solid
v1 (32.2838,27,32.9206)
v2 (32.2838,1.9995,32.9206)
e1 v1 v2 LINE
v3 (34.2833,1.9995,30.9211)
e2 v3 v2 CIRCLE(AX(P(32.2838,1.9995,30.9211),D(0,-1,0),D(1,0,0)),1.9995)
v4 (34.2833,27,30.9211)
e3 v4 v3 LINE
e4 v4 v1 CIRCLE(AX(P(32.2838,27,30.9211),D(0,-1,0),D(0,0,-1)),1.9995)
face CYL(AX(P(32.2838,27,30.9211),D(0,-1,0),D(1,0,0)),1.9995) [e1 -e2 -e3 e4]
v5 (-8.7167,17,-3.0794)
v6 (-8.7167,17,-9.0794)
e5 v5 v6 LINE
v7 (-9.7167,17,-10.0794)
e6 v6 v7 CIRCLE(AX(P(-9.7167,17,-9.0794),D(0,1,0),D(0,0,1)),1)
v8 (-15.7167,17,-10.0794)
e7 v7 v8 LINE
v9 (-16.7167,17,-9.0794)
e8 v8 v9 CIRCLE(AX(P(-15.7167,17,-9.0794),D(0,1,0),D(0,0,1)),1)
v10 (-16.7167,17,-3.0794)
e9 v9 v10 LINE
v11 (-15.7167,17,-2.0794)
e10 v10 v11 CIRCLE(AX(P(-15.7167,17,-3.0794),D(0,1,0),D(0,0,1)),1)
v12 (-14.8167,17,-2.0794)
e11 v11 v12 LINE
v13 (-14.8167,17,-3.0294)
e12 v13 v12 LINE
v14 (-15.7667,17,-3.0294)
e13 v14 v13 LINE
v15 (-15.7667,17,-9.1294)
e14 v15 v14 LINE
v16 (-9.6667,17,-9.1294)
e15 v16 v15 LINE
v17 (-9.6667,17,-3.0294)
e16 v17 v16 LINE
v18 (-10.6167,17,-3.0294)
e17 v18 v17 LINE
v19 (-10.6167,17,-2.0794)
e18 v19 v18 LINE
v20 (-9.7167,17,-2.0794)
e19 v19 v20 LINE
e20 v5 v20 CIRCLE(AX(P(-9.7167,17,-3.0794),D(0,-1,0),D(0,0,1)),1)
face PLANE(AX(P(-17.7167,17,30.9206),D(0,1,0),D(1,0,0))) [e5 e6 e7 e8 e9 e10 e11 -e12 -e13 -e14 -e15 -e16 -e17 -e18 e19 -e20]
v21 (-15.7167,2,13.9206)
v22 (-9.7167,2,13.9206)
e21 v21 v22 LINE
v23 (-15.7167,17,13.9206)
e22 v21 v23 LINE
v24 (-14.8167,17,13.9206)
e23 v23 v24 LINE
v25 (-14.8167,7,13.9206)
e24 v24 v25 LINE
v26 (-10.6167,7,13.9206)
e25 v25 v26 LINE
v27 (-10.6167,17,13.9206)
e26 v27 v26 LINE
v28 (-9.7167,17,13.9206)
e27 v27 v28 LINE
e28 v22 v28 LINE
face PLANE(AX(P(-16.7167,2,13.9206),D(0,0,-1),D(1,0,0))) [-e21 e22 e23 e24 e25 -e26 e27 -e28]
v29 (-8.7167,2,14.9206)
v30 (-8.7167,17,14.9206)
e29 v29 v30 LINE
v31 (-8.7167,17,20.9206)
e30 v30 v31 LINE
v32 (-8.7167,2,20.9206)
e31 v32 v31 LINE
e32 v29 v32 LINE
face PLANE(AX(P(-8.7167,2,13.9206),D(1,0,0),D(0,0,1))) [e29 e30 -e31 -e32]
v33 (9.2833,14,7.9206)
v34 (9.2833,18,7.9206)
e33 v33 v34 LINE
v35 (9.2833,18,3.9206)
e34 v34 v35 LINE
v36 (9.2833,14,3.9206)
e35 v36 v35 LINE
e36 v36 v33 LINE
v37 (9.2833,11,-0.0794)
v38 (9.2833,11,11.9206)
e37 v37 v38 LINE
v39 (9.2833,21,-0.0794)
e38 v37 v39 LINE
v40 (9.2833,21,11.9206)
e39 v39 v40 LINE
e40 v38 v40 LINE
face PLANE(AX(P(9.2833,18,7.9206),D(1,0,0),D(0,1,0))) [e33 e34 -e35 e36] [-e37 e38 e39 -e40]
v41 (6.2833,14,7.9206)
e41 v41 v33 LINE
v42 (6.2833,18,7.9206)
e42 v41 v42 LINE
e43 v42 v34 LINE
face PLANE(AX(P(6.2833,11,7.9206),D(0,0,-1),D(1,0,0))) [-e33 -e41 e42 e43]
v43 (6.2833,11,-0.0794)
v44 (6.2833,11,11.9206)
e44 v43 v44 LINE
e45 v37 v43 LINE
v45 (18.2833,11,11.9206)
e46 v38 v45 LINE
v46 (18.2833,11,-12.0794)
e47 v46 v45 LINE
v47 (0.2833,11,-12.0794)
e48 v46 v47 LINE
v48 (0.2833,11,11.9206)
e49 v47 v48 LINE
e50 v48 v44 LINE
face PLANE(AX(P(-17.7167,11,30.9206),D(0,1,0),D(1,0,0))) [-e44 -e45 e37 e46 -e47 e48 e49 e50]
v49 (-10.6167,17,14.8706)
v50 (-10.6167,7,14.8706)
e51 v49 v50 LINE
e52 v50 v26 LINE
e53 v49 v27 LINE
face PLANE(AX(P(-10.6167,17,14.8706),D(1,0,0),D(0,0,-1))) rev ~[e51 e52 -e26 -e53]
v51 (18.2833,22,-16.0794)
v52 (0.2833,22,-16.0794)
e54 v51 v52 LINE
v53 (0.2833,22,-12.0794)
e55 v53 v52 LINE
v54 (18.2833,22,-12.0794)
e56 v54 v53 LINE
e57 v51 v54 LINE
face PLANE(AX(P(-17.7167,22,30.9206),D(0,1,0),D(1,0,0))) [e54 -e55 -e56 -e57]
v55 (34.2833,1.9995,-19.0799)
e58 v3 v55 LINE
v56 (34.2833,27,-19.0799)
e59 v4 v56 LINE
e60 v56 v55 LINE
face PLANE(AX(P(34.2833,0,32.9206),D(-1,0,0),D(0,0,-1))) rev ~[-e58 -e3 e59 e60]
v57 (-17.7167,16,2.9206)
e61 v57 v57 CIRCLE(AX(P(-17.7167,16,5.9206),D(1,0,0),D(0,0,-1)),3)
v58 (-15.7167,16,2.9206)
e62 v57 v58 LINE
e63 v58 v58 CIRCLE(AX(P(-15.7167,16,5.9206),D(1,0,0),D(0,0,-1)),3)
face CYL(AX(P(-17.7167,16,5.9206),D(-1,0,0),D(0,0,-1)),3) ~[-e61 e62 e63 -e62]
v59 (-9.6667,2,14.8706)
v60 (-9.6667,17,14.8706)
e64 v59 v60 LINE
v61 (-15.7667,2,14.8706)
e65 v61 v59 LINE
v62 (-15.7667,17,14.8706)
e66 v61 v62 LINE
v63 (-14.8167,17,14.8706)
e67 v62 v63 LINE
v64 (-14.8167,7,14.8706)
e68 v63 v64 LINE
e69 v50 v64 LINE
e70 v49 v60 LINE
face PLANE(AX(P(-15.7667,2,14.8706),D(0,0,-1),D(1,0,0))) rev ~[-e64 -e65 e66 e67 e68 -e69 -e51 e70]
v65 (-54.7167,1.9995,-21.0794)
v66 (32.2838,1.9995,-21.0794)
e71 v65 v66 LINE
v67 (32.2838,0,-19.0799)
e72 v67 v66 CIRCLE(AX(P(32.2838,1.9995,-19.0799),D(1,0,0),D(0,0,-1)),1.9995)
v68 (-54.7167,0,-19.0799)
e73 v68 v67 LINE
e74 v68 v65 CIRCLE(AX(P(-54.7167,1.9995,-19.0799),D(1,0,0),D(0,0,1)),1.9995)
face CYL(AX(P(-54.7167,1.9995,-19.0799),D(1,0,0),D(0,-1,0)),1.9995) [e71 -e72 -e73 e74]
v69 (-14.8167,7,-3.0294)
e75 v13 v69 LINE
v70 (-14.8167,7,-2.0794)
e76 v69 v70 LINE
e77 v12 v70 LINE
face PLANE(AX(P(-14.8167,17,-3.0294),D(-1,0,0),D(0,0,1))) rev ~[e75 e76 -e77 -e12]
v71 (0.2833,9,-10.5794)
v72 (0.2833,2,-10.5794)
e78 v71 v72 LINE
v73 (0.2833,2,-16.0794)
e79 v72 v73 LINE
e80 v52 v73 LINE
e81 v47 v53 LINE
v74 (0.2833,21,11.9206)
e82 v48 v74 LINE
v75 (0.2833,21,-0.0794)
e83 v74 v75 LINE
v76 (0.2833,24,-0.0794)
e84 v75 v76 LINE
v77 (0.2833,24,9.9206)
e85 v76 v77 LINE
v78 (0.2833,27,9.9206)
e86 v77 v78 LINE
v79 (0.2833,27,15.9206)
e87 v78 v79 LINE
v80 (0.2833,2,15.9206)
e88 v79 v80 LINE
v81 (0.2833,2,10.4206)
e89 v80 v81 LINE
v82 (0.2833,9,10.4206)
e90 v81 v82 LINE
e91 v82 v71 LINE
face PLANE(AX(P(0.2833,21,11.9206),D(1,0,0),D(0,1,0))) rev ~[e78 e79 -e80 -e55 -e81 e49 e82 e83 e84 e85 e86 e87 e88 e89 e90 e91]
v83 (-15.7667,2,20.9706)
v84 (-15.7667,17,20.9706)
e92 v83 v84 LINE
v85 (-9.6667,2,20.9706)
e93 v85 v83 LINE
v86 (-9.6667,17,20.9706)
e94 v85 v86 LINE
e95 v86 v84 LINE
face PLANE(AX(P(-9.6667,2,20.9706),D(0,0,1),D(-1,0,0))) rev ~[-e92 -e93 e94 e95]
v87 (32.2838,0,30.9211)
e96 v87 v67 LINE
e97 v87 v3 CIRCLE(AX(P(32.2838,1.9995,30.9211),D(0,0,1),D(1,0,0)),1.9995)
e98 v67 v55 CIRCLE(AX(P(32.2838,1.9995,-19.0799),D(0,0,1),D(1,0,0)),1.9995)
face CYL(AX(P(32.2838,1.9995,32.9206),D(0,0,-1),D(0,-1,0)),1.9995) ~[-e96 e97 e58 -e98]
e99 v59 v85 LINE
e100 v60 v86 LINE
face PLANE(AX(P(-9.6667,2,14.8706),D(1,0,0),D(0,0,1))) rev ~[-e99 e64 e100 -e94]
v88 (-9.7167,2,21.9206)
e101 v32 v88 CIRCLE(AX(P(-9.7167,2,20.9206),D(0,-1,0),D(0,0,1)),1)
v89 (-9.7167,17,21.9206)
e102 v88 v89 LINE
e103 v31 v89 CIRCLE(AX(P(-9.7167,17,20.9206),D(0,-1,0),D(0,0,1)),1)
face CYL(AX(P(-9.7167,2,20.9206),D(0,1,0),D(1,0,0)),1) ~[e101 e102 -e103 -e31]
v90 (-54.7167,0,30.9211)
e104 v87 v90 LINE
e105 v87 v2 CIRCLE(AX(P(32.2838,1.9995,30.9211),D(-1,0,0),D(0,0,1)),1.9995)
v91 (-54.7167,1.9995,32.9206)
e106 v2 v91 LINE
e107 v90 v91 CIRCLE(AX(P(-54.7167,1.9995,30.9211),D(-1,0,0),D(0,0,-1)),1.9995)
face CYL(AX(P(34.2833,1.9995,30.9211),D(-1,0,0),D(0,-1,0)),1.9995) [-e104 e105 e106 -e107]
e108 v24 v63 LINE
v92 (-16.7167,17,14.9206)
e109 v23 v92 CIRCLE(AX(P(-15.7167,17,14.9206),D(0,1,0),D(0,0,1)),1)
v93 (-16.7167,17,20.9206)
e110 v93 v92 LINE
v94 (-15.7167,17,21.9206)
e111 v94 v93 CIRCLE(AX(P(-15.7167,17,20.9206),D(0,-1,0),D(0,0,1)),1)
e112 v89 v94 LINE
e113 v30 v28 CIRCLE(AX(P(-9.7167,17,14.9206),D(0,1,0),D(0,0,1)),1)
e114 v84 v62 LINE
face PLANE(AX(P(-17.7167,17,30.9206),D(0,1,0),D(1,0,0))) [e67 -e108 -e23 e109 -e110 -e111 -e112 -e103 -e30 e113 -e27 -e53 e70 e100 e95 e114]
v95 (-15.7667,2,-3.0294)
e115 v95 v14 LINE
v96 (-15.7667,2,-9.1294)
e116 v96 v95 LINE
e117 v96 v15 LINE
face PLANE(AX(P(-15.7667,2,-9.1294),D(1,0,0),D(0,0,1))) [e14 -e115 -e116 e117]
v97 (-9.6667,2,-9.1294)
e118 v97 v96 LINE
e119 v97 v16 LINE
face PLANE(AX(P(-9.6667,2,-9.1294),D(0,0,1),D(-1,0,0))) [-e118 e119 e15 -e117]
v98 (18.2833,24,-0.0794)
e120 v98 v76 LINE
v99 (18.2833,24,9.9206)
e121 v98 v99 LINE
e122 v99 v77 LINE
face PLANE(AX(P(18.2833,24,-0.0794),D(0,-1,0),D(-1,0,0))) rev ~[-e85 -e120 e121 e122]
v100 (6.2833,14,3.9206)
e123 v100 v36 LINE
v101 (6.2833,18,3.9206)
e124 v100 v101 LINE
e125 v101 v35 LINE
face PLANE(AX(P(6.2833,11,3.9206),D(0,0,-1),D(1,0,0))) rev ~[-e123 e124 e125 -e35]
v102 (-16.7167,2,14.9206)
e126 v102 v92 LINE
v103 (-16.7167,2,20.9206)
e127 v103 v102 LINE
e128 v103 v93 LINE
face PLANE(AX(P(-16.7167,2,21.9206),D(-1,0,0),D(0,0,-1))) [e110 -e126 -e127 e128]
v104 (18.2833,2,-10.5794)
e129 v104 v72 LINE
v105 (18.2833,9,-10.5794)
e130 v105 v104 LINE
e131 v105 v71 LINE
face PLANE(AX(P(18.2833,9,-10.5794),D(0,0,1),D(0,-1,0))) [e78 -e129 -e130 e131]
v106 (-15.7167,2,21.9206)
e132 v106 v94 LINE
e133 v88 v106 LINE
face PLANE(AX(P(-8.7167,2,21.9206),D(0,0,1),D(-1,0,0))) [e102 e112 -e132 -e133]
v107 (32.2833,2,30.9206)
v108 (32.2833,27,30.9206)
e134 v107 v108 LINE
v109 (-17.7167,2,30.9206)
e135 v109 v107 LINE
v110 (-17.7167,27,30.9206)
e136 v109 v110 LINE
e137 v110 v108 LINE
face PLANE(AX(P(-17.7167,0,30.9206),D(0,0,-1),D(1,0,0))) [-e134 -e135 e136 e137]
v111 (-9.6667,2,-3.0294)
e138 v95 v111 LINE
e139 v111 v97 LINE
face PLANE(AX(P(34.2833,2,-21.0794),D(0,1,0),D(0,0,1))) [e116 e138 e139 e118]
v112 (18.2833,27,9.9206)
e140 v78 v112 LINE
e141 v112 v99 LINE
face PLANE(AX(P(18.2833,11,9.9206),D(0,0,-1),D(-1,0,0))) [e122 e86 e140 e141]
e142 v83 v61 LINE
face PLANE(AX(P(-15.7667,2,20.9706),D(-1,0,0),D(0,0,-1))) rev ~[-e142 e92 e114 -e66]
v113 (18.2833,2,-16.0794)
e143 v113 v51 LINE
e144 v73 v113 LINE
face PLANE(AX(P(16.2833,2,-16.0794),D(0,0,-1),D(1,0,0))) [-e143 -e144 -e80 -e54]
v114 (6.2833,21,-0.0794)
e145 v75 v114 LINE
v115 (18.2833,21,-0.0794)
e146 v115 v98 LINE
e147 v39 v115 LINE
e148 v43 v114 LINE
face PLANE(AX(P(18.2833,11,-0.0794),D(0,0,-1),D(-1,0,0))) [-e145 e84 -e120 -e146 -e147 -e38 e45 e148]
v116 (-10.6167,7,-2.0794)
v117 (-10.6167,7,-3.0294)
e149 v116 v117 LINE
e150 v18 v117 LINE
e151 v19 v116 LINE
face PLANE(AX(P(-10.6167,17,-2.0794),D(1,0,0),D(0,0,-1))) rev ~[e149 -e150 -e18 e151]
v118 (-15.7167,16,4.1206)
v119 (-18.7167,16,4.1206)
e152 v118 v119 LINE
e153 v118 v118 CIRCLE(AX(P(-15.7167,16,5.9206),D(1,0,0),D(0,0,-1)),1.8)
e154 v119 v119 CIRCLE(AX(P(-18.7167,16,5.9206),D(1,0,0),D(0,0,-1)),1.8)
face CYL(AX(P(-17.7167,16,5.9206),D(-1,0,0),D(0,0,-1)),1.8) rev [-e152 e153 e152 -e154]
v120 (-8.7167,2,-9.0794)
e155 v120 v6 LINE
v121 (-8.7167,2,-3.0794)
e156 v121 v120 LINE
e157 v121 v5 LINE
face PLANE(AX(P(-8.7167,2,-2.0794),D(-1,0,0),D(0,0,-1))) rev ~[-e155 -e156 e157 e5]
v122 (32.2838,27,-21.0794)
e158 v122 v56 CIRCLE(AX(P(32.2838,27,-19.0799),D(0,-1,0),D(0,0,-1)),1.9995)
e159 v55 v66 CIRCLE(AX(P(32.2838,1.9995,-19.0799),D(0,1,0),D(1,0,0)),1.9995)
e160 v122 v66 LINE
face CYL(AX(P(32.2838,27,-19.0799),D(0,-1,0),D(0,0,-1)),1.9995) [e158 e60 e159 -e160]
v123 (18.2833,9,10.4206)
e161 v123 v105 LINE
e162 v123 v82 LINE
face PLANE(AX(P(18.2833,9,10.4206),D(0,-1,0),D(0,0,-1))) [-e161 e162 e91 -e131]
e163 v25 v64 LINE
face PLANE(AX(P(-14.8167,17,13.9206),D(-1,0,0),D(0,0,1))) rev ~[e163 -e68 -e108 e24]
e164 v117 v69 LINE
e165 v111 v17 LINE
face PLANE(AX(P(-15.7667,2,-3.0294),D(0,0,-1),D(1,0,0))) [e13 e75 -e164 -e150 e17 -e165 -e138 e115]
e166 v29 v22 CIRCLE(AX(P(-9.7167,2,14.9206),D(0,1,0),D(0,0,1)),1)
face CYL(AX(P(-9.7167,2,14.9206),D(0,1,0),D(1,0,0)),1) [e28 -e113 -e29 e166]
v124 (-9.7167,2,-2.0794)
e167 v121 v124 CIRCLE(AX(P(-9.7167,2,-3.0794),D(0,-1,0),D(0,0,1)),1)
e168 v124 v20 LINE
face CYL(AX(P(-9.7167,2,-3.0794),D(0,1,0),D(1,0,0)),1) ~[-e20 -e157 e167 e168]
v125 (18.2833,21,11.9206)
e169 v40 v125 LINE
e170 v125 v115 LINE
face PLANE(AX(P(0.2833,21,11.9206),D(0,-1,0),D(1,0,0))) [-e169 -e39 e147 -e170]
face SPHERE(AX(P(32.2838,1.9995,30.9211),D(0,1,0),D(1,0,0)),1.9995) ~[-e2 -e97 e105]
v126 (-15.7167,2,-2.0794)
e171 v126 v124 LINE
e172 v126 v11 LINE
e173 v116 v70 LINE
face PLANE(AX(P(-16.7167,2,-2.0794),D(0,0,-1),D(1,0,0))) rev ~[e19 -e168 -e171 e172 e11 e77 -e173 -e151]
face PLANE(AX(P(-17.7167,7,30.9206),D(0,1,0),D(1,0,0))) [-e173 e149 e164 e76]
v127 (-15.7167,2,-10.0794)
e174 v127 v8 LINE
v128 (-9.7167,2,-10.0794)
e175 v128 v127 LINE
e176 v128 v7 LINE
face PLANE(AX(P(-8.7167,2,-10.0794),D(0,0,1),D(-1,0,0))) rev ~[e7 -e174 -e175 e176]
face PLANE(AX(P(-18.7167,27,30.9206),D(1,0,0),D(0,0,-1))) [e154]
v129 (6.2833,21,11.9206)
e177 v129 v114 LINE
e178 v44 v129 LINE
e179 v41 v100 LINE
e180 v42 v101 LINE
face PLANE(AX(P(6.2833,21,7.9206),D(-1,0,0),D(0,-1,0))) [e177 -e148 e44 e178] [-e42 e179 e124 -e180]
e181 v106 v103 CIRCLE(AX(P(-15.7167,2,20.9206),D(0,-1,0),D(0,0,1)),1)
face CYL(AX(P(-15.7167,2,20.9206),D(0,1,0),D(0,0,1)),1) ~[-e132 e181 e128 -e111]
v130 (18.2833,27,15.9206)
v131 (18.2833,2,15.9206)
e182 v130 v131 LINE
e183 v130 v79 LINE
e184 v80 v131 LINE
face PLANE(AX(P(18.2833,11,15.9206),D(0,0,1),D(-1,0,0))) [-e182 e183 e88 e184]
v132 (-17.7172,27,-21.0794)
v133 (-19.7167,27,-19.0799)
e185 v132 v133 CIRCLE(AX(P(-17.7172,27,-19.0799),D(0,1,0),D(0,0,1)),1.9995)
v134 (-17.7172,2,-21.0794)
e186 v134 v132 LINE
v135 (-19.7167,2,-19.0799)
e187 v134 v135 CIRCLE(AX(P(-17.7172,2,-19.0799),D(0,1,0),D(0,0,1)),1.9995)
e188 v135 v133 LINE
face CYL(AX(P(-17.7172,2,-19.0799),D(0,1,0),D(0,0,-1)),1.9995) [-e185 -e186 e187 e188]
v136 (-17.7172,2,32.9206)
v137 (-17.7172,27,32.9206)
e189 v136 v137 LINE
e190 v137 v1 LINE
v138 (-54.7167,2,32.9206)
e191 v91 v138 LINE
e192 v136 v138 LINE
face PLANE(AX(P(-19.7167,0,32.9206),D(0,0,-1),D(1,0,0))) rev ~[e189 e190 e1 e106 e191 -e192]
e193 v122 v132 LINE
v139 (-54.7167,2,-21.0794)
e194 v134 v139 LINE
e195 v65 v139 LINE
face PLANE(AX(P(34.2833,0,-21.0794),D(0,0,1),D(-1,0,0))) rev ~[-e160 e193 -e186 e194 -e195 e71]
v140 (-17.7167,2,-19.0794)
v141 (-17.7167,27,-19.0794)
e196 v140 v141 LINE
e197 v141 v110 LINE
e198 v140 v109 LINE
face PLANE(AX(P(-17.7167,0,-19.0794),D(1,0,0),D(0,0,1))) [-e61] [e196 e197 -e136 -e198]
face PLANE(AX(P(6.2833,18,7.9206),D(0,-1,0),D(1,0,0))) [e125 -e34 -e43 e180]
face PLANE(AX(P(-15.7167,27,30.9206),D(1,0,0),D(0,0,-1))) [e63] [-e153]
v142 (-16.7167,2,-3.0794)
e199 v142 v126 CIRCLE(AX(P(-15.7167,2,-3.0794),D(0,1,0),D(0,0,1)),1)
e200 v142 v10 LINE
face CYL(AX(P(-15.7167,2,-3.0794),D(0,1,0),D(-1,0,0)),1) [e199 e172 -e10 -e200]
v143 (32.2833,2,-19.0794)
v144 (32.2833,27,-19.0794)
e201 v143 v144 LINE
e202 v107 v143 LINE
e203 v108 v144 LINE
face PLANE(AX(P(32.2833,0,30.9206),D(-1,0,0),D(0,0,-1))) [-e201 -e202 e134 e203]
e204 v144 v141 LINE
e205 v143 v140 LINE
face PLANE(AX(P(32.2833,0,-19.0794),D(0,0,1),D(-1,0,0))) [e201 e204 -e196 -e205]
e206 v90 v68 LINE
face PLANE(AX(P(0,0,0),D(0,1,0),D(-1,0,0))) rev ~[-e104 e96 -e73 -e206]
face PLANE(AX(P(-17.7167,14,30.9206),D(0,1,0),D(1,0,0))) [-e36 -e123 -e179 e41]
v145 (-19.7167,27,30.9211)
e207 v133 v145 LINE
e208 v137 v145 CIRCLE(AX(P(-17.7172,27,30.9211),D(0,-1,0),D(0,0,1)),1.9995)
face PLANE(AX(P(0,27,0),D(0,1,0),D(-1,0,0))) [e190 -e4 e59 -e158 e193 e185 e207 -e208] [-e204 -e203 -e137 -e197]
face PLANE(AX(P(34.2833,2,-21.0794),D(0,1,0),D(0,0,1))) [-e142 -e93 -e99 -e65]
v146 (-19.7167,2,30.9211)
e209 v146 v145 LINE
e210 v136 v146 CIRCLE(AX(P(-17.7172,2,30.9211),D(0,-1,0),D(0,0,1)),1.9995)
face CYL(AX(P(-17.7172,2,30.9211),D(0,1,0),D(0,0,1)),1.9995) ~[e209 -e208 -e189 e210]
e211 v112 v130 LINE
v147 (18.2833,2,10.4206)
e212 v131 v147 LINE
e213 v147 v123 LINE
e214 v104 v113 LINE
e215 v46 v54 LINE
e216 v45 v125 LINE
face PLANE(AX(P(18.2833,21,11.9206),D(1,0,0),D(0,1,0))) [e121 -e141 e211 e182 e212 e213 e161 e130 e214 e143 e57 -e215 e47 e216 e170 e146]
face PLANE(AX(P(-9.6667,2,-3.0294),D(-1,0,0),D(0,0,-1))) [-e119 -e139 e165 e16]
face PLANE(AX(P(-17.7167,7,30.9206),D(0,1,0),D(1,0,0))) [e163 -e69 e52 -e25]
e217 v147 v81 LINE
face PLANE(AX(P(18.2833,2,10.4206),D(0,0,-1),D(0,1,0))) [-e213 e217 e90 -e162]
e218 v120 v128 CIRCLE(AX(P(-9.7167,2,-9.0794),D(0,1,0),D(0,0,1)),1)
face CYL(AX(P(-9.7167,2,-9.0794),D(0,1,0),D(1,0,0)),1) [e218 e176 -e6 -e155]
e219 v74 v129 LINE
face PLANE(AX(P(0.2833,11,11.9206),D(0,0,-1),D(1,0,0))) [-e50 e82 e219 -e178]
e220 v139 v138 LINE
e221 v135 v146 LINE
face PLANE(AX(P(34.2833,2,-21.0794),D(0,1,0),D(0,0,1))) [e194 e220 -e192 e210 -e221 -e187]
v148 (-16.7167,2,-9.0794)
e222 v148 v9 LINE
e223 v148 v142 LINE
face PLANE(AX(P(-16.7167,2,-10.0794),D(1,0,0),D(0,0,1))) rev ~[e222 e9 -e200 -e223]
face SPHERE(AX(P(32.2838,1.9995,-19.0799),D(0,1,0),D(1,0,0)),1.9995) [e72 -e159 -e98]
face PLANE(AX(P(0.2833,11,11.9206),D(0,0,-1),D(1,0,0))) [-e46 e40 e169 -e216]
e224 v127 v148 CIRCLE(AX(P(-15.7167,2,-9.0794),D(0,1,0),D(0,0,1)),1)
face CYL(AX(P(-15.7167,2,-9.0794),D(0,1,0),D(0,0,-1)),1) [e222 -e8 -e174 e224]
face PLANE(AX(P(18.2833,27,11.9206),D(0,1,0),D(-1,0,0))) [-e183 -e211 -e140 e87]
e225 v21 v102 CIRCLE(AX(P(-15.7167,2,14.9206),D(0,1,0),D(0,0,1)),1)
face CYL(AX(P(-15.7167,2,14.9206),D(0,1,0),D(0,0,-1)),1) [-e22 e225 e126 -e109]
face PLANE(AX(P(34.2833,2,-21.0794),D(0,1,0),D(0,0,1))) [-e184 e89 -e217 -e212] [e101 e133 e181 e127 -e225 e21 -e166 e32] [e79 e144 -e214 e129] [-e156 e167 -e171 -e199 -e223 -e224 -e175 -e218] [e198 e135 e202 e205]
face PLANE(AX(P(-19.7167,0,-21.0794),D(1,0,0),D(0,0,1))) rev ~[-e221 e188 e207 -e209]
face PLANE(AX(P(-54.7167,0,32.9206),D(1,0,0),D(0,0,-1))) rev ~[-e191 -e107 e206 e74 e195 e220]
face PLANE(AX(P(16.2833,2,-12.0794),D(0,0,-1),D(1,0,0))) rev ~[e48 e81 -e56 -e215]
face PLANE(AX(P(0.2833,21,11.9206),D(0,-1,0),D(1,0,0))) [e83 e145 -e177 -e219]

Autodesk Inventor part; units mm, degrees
ref_plane "YZ Plane" through (0, 0, 0) normal (1, 0, 0) x (0, 1, 0)
ref_plane "XZ Plane" through (0, 0, 0) normal (0, 1, 0) x (-1, 0, 0)
ref_plane "XY Plane" through (0, 0, 0) normal (0, 0, 1) x (1, 0, 0)
sketch "Sketch1" plane through (0, 0, 0) normal (0, 1, 0) x (-1, 0, 0)
  line L0 (17.7167, 30.9206) -> (-32.2833, 30.9206)
  line L1 (-32.2833, 30.9206) -> (-32.2833, -19.0794)
  line L2 (-32.2833, -19.0794) -> (17.7167, -19.0794)
  line L3 (17.7167, -19.0794) -> (17.7167, 30.9206)
  line L4 (19.7167, 32.9206) -> (-34.2833, 32.9206)
  line L5 (-34.2833, 32.9206) -> (-34.2833, -21.0794)
  line L6 (-34.2833, -21.0794) -> (19.7167, -21.0794)
  line L7 (19.7167, -21.0794) -> (19.7167, 32.9206)
  line L8 (19.7167, 32.9206) -> (54.7167, 32.9206)
  line L9 (54.7167, 32.9206) -> (54.7167, -21.0794)
  line L10 (54.7167, -21.0794) -> (19.7167, -21.0794)
  line L11 (19.7167, -21.0794) -> (19.7167, 32.9206)
  point P0 (0, 0)
  dimension "d0" = 50
  dimension "d1" = 50
  dimension "d2" = 2
  dimension "d3" = 2
  dimension "d4" = 2
  dimension "d5" = 2
  dimension "d6" = 35
  dimension "d7" = 54
extrude "Extrusion1" add sketch "Sketch1" along normal blind 27 contours L7 L6 L5 L4
sketch "Sketch2" plane through (34.2833, 0, 32.9206) normal (1, 0, 0) x (0, 0, -1)
  line L0 (0, 0) -> (0, 27) projected
  line L1 (54, 0) -> (54, 27) projected
  line L2 (0, 0) -> (54, 0)
  line L3 (54, 0) -> (54, 2)
  line L4 (54, 2) -> (0, 2)
  line L5 (0, 2) -> (0, 0)
  point P0 (32.9206, 0)
  dimension "d10" = 2
extrude "Extrusion2" add sketch "Sketch2" against normal blind 89
fillet "Fillet1" radius 2 7 edges at (34.2833, 13.5, 32.9206) (34.2833, 13.5, -21.0794) (-19.7167, 14.5, -21.0794) (-19.7167, 14.5, 32.9206) (34.2833, 0, 5.9206) (-10.2167, 0, 32.9206) (-10.2167, 0, -21.0794)
sketch "Sketch3" plane through (-17.7167, 2, 30.9206) normal (0, 1, 0) x (1, 0, 0)
  line L0 (9, 9) -> (1, 9)
  line L1 (1, 9) -> (1, 17)
  line L2 (1, 17) -> (9, 17)
  line L3 (9, 17) -> (9, 9)
  line L4 (50, 0) -> (0, 0) projected
  line L5 (0, 0) -> (0, 50) projected
  line L6 (8.05, 9.95) -> (1.95, 9.95)
  line L7 (1.95, 9.95) -> (1.95, 16.05)
  line L8 (1.95, 16.05) -> (8.05, 16.05)
  line L9 (8.05, 16.05) -> (8.05, 9.95)
  line L10 (0, 25) -> (50, 25)
  line L11 (0, 50) -> (50, 50) projected
  line L12 (50, 50) -> (50, 0) projected
  line L13 (9, 41) -> (1, 41)
  line L14 (1, 41) -> (1, 33)
  line L15 (1, 33) -> (9, 33)
  line L16 (9, 33) -> (9, 41)
  line L17 (8.05, 40.05) -> (1.95, 40.05)
  line L18 (1.95, 40.05) -> (1.95, 33.95)
  line L19 (1.95, 33.95) -> (8.05, 33.95)
  line L20 (8.05, 33.95) -> (8.05, 40.05)
  line L21 (36, 25) -> (18, 25)
  line L22 (18, 25) -> (18, 47)
  line L23 (18, 47) -> (36, 47)
  line L24 (36, 47) -> (36, 25)
  line L25 (36, 25) -> (18, 25)
  line L26 (18, 25) -> (18, 15)
  line L27 (18, 15) -> (36, 15)
  line L28 (36, 15) -> (36, 25)
  line L29 (36, 47) -> (18, 47)
  line L30 (18, 47) -> (18, 43)
  line L31 (18, 43) -> (36, 43)
  line L32 (36, 43) -> (36, 47)
  line L33 (36, 15) -> (34, 15)
  line L34 (34, 15) -> (34, 47)
  line L35 (34, 47) -> (36, 47)
  line L36 (36, 47) -> (36, 15)
  line L37 (34, 21) -> (33, 21)
  line L38 (33, 21) -> (33, 22)
  line L39 (33, 22) -> (34, 22)
  line L40 (34, 22) -> (34, 21)
  line L41 (34, 28) -> (33, 28)
  line L42 (33, 28) -> (33, 29)
  line L43 (33, 29) -> (34, 29)
  line L44 (34, 29) -> (34, 28)
  line L45 (34, 39) -> (33, 39)
  line L46 (33, 39) -> (33, 40)
  line L47 (33, 40) -> (34, 40)
  line L48 (34, 40) -> (34, 39)
  point P0 (17.7167, 30.9206)
  dimension "d26" = 9
  dimension "d27" = 8
  dimension "d28" = 1
  dimension "d29" = 6.1
  dimension "d30" = 0.95
  dimension "d31" = 0.95
  dimension "d33" = 25
  dimension "d34" = 25
  dimension "d39" = 16
  dimension "d74" = 22
  dimension "d75" = 18
  dimension "d76" = 18
  dimension "d77" = 10
  dimension "d78" = 18
  dimension "d87" = 4
  dimension "d90" = 2
  dimension "d93" = 6
  dimension "d94" = 1
  dimension "d95" = 1
  dimension "d96" = 3
  dimension "d97" = 3
  dimension "d98" = 1
  dimension "d99" = 1
  dimension "d100" = 10
  dimension "d101" = 1
  dimension "d102" = 1
extrude "Extrusion3" add sketch "Sketch3" along normal blind 15 contours L0 L1 L2 L3
sketch "Sketch4" plane through (-17.7167, 2, 30.9206) normal (0, 1, 0) x (1, 0, 0)
  point P0 (17.7167, 30.9206)
extrude "Extrusion4" add sketch "Sketch3" along normal blind 15 contours L16 L15 L14 L13
fillet "Fillet2" radius 1 8 edges at (-8.7167, 9.5, -2.0794) (-8.7167, 9.5, -10.0794) (-16.7167, 9.5, -2.0794) (-16.7167, 9.5, -10.0794) (-8.7167, 9.5, 13.9206) (-8.7167, 9.5, 21.9206) (-16.7167, 9.5, 21.9206) (-16.7167, 9.5, 13.9206)
sketch "Sketch5" plane through (-17.7167, 27, 30.9206) normal (1, 0, 0) x (0, 0, -1)
  circle A0 centre (25, -11) radius 1.8
  line L0 (50, -25) -> (50, 0) projected
  line L1 (0, -25) -> (50, -25) projected
  point P0 (30.9206, -27)
  dimension "d41" = 3.6
  dimension "d42" = 25
  dimension "d43" = 14
extrude "Extrusion5" cut sketch "Sketch5" against normal blind 1
sketch "Sketch6" plane through (-17.7167, 2, 30.9206) normal (0, 1, 0) x (1, 0, 0)
  line L0 (10.5, 9.0139) -> (13.5, 9.0139)
  line L1 (13.5, 9.0139) -> (13.5, 41.0139)
  line L2 (13.5, 41.0139) -> (10.5, 41.0139)
  line L3 (10.5, 41.0139) -> (10.5, 9.0139)
  line L4 (2, 9) -> (8, 9) projected
  line L5 (8, 41) -> (2, 41) projected
  line L6 (9, 16) -> (9, 10) projected
  point P0 (17.7167, 30.9206)
  dimension "d46" = 3
  dimension "d47" = 32
  dimension "d48" = 1.5
extrude "Extrusion6" [suppressed]
sketch "Sketch7" plane through (-4.2167, 2, 21.9067) normal (1, 0, 0) x (0, 0, -1)
  circle A0 centre (15.9861, 14) radius 1.8
  circle A1 centre (15.9861, 14) radius 1.8 projected
  point P0 (21.9067, -2)
  dimension "d51" = 3.6
extrude "Extrusion7" [suppressed]
sketch "Sketch8" plane through (-4.2167, 2, 21.9067) normal (1, 0, 0) x (0, 0, -1)
  line L0 (32.0428, 14) -> (0, 14)
  line L1 (0, 0) -> (0, 14) projected
  line L2 (0, 14) -> (32, 14) projected
  line L3 (32, 0) -> (0, 0) projected
  point P0 (21.9067, -2)
  dimension "d54" = 14
sketch "Sketch9" plane through (-17.7167, 27, 30.9206) normal (1, 0, 0) x (0, 0, -1)
  line L0 (3.6476, -12) -> (44.1553, -12)
  line L1 (44.1553, -12) -> (44.1553, -24)
  line L2 (44.1553, -24) -> (3.6476, -24)
  line L3 (3.6476, -24) -> (3.6476, -12)
  line L4 (0, -25) -> (50, -25) projected
  point P0 (30.9206, -27)
  dimension "d55" = 12
  dimension "d56" = 1
extrude "Extrusion8" [suppressed]
sketch "Sketch10" plane through (-17.7167, 17, 30.9206) normal (0, 1, 0) x (1, 0, 0)
  line L0 (8.05, 16.05) -> (1.95, 16.05) projected
  line L1 (2, 17) -> (8, 17) projected
  line L2 (2.9, 16.05) -> (7.1, 16.05)
  line L3 (7.1, 16.05) -> (7.1, 17)
  line L4 (7.1, 17) -> (2.9, 17)
  line L5 (2.9, 17) -> (2.9, 16.05)
  line L6 (1.95, 9.95) -> (1.95, 16.05) projected
  line L7 (8.05, 16.05) -> (8.05, 9.95) projected
  point P0 (17.7167, 30.9206)
  dimension "d59" = 0.95
  dimension "d60" = 0.95
extrude "Extrusion9" cut sketch "Sketch10" against normal blind 10
sketch "Sketch11" plane through (-17.7167, 17, 30.9206) normal (0, 1, 0) x (1, 0, 0)
  line L0 (8, 33) -> (2, 33) projected
  line L1 (8.05, 33.95) -> (1.95, 33.95) projected
  line L2 (2.9, 33) -> (7.1, 33)
  line L3 (7.1, 33) -> (7.1, 33.95)
  line L4 (7.1, 33.95) -> (2.9, 33.95)
  line L5 (2.9, 33.95) -> (2.9, 33)
  line L6 (1.95, 33.95) -> (1.95, 40.05) projected
  line L7 (8.05, 40.05) -> (8.05, 33.95) projected
  point P0 (17.7167, 30.9206)
  dimension "d63" = 0.95
  dimension "d64" = 0.95
  dimension "d65" = 0.95
extrude "Extrusion10" cut sketch "Sketch11" against normal blind 10
sketch "Sketch12" plane through (-17.7167, 27, 30.9206) normal (1, 0, 0) x (0, 0, -1)
  circle A0 centre (25, -11) radius 3
  circle A1 centre (25, -11) radius 1.8 projected
  point P0 (30.9206, -27)
  dimension "d68" = 6
extrude "Extrusion11" add sketch "Sketch12" along normal blind 2
sketch "Sketch13" plane through (-17.7167, 16, 30.9206) normal (0, 1, 0) x (1, 0, 0)
  line L0 (13.5, 41.0139) -> (13.5, 9.0139) projected
  line L1 (13.5, 41.0139) -> (10.5, 41.0139) projected
  line L2 (13.5, 31.0139) -> (10.5, 31.0139)
  line L3 (10.5, 31.0139) -> (10.5, 41.0139)
  line L4 (10.5, 41.0139) -> (13.5, 41.0139)
  line L5 (13.5, 41.0139) -> (13.5, 31.0139)
  line L6 (10.5, 9.0139) -> (13.5, 9.0139) projected
  point P0 (17.7167, 30.9206)
  dimension "d71" = 10
extrude "Extrusion12" [suppressed]
sketch "Sketch14" plane through (-17.7167, 2, 30.9206) normal (0, 1, 0) x (1, 0, 0)
  point P0 (17.7167, 30.9206)
extrude "Extrusion13" add sketch "Sketch3" along normal blind 9 contours L28 L27 L34 L10 | L10 L34 L31 L24 | L22 L31 L34 L47 L46 L45 L43 L42 L41 L10 | L10 L34 L39 L38 L37 L27 L26 | L31 L34 L23 L24 | L22 L23 L34 L31 | L34 L37 L38 L39 | L41 L42 L43 L34 | L34 L45 L46 L47
sketch "Sketch15" plane through (-17.7167, 11, 30.9206) normal (0, 1, 0) x (1, 0, 0)
  line L0 (36, 47) -> (36, 15) projected
  line L1 (18, 47) -> (18, 15) projected
  line L2 (36, 15) -> (18, 15)
  line L3 (18, 15) -> (18, 19)
  line L4 (18, 19) -> (36, 19)
  line L5 (36, 19) -> (36, 15)
  point P0 (17.7167, 30.9206)
  dimension "d81" = 4
extrude "Extrusion14" add sketch "Sketch15" along normal blind 16
extrude "Extrusion16" add sketch "Sketch3" along normal blind 20 contours L31 L34 L23 L24 | L22 L23 L34 L31
extrude "Extrusion17" [suppressed]
extrude "Extrusion18" [suppressed]
extrude "Extrusion19" [suppressed]
extrude "Extrusion20" [suppressed]
sketch "Sketch17" plane through (18.2833, 11, 11.9206) normal (0, 0, -1) x (-1, 0, 0)
  line L0 (0, -9) -> (0, 16) projected
  line L1 (18, -9) -> (18, 16) projected
  line L2 (0, 16) -> (18, 16)
  line L3 (18, 16) -> (18, 10)
  line L4 (18, 10) -> (0, 10)
  line L5 (0, 10) -> (0, 16)
  point P0 (18.2833, -11)
  dimension "d109" = 6
extrude "Extrusion21" add sketch "Sketch17" along normal blind 12
sketch "Sketch18" plane through (-17.7167, 11, 30.9206) normal (0, 1, 0) x (1, 0, 0)
  line L0 (18, 19) -> (36, 19) projected
  line L1 (27, 19) -> (24, 19)
  line L2 (24, 19) -> (24, 23)
  line L3 (24, 23) -> (27, 23)
  line L4 (27, 23) -> (27, 19)
  line L5 (18, 43) -> (18, 19) projected
  line L6 (24, 27) -> (27, 27)
  line L7 (27, 27) -> (27, 31)
  line L8 (27, 31) -> (24, 31)
  line L9 (24, 31) -> (24, 27)
  line L10 (24, 27) -> (27, 27)
  line L11 (27, 27) -> (27, 23)
  line L12 (27, 23) -> (24, 23)
  line L13 (24, 23) -> (24, 27)
  point P0 (17.7167, 30.9206)
  dimension "d112" = 9
  dimension "d113" = 3
  dimension "d114" = 4
  dimension "d115" = 3
  dimension "d116" = 4
  dimension "d133" = 4
sketch "Sketch19" plane through (-17.7167, 11, 30.9206) normal (0, 1, 0) x (1, 0, 0)
  point P0 (17.7167, 30.9206)
extrude "Extrusion22" add sketch "Sketch18" along normal blind 10 contours L2 L3 L4 L0 | L9 L8 L7 L6
extrude "Extrusion23" add sketch "Sketch18" along normal blind 3 contours L13 L6 L11 L3
sketch "Sketch20" plane through (9.2833, 21, 7.9206) normal (0, 0, -1) x (-1, 0, 0)
  point P0 (9.2833, -21)
sketch "Sketch21" plane through (9.2833, 21, 7.9206) normal (0, 0, -1) x (-1, 0, 0)
  line L0 (0, 0) -> (3, 0) projected
  line L1 (0, 0) -> (3, 0)
  line L2 (3, 0) -> (3, -3)
  line L3 (3, -3) -> (0, -3)
  line L4 (0, -3) -> (0, 0)
  point P0 (9.2833, -21)
  dimension "d121" = 3
extrude "Extrusion24" add sketch "Sketch21" along normal blind 4
sketch "Sketch22" plane through (18.2833, 2, 15.9206) normal (1, 0, 0) x (0, 0, -1)
  line L0 (5.5, 7) -> (26.5, 7)
  line L1 (26.5, 7) -> (26.5, 0)
  line L2 (26.5, 0) -> (5.5, 0)
  line L3 (5.5, 0) -> (5.5, 7)
  line L4 (4, 9) -> (28, 9) projected
  line L5 (28, 9) -> (28, 20) projected
  point P0 (15.9206, -2)
  dimension "d124" = 2
  dimension "d125" = 7
  dimension "d126" = 21
  dimension "d129" = 1.5
extrude "Extrusion25" cut sketch "Sketch22" against normal blind 20
sketch "Sketch23" plane through (18.2833, 11, -0.0794) normal (0, 0, -1) x (-1, 0, 0)
  line L0 (18, 16) -> (0, 16) projected
  line L1 (0, 16) -> (0, 10) projected
  line L2 (18, 16) -> (0, 16)
  line L3 (0, 16) -> (0, 13)
  line L4 (0, 13) -> (18, 13)
  line L5 (18, 13) -> (18, 16)
  point P0 (18.2833, -11)
  dimension "d130" = 3
extrude "Extrusion26" cut sketch "Sketch23" against normal blind 10
equation "\"d1\" = d0"
equation "\"d76\" = d75"
equation "\"d98\" = d95"
equation "\"d99\" = d94"
equation "\"d101\" = d99"
equation "\"d102\" = d95"
equation "\"d54\" = d43"
equation "\"d115\" = d113"
equation "\"d116\" = d114"
properties part number "ohisje"
